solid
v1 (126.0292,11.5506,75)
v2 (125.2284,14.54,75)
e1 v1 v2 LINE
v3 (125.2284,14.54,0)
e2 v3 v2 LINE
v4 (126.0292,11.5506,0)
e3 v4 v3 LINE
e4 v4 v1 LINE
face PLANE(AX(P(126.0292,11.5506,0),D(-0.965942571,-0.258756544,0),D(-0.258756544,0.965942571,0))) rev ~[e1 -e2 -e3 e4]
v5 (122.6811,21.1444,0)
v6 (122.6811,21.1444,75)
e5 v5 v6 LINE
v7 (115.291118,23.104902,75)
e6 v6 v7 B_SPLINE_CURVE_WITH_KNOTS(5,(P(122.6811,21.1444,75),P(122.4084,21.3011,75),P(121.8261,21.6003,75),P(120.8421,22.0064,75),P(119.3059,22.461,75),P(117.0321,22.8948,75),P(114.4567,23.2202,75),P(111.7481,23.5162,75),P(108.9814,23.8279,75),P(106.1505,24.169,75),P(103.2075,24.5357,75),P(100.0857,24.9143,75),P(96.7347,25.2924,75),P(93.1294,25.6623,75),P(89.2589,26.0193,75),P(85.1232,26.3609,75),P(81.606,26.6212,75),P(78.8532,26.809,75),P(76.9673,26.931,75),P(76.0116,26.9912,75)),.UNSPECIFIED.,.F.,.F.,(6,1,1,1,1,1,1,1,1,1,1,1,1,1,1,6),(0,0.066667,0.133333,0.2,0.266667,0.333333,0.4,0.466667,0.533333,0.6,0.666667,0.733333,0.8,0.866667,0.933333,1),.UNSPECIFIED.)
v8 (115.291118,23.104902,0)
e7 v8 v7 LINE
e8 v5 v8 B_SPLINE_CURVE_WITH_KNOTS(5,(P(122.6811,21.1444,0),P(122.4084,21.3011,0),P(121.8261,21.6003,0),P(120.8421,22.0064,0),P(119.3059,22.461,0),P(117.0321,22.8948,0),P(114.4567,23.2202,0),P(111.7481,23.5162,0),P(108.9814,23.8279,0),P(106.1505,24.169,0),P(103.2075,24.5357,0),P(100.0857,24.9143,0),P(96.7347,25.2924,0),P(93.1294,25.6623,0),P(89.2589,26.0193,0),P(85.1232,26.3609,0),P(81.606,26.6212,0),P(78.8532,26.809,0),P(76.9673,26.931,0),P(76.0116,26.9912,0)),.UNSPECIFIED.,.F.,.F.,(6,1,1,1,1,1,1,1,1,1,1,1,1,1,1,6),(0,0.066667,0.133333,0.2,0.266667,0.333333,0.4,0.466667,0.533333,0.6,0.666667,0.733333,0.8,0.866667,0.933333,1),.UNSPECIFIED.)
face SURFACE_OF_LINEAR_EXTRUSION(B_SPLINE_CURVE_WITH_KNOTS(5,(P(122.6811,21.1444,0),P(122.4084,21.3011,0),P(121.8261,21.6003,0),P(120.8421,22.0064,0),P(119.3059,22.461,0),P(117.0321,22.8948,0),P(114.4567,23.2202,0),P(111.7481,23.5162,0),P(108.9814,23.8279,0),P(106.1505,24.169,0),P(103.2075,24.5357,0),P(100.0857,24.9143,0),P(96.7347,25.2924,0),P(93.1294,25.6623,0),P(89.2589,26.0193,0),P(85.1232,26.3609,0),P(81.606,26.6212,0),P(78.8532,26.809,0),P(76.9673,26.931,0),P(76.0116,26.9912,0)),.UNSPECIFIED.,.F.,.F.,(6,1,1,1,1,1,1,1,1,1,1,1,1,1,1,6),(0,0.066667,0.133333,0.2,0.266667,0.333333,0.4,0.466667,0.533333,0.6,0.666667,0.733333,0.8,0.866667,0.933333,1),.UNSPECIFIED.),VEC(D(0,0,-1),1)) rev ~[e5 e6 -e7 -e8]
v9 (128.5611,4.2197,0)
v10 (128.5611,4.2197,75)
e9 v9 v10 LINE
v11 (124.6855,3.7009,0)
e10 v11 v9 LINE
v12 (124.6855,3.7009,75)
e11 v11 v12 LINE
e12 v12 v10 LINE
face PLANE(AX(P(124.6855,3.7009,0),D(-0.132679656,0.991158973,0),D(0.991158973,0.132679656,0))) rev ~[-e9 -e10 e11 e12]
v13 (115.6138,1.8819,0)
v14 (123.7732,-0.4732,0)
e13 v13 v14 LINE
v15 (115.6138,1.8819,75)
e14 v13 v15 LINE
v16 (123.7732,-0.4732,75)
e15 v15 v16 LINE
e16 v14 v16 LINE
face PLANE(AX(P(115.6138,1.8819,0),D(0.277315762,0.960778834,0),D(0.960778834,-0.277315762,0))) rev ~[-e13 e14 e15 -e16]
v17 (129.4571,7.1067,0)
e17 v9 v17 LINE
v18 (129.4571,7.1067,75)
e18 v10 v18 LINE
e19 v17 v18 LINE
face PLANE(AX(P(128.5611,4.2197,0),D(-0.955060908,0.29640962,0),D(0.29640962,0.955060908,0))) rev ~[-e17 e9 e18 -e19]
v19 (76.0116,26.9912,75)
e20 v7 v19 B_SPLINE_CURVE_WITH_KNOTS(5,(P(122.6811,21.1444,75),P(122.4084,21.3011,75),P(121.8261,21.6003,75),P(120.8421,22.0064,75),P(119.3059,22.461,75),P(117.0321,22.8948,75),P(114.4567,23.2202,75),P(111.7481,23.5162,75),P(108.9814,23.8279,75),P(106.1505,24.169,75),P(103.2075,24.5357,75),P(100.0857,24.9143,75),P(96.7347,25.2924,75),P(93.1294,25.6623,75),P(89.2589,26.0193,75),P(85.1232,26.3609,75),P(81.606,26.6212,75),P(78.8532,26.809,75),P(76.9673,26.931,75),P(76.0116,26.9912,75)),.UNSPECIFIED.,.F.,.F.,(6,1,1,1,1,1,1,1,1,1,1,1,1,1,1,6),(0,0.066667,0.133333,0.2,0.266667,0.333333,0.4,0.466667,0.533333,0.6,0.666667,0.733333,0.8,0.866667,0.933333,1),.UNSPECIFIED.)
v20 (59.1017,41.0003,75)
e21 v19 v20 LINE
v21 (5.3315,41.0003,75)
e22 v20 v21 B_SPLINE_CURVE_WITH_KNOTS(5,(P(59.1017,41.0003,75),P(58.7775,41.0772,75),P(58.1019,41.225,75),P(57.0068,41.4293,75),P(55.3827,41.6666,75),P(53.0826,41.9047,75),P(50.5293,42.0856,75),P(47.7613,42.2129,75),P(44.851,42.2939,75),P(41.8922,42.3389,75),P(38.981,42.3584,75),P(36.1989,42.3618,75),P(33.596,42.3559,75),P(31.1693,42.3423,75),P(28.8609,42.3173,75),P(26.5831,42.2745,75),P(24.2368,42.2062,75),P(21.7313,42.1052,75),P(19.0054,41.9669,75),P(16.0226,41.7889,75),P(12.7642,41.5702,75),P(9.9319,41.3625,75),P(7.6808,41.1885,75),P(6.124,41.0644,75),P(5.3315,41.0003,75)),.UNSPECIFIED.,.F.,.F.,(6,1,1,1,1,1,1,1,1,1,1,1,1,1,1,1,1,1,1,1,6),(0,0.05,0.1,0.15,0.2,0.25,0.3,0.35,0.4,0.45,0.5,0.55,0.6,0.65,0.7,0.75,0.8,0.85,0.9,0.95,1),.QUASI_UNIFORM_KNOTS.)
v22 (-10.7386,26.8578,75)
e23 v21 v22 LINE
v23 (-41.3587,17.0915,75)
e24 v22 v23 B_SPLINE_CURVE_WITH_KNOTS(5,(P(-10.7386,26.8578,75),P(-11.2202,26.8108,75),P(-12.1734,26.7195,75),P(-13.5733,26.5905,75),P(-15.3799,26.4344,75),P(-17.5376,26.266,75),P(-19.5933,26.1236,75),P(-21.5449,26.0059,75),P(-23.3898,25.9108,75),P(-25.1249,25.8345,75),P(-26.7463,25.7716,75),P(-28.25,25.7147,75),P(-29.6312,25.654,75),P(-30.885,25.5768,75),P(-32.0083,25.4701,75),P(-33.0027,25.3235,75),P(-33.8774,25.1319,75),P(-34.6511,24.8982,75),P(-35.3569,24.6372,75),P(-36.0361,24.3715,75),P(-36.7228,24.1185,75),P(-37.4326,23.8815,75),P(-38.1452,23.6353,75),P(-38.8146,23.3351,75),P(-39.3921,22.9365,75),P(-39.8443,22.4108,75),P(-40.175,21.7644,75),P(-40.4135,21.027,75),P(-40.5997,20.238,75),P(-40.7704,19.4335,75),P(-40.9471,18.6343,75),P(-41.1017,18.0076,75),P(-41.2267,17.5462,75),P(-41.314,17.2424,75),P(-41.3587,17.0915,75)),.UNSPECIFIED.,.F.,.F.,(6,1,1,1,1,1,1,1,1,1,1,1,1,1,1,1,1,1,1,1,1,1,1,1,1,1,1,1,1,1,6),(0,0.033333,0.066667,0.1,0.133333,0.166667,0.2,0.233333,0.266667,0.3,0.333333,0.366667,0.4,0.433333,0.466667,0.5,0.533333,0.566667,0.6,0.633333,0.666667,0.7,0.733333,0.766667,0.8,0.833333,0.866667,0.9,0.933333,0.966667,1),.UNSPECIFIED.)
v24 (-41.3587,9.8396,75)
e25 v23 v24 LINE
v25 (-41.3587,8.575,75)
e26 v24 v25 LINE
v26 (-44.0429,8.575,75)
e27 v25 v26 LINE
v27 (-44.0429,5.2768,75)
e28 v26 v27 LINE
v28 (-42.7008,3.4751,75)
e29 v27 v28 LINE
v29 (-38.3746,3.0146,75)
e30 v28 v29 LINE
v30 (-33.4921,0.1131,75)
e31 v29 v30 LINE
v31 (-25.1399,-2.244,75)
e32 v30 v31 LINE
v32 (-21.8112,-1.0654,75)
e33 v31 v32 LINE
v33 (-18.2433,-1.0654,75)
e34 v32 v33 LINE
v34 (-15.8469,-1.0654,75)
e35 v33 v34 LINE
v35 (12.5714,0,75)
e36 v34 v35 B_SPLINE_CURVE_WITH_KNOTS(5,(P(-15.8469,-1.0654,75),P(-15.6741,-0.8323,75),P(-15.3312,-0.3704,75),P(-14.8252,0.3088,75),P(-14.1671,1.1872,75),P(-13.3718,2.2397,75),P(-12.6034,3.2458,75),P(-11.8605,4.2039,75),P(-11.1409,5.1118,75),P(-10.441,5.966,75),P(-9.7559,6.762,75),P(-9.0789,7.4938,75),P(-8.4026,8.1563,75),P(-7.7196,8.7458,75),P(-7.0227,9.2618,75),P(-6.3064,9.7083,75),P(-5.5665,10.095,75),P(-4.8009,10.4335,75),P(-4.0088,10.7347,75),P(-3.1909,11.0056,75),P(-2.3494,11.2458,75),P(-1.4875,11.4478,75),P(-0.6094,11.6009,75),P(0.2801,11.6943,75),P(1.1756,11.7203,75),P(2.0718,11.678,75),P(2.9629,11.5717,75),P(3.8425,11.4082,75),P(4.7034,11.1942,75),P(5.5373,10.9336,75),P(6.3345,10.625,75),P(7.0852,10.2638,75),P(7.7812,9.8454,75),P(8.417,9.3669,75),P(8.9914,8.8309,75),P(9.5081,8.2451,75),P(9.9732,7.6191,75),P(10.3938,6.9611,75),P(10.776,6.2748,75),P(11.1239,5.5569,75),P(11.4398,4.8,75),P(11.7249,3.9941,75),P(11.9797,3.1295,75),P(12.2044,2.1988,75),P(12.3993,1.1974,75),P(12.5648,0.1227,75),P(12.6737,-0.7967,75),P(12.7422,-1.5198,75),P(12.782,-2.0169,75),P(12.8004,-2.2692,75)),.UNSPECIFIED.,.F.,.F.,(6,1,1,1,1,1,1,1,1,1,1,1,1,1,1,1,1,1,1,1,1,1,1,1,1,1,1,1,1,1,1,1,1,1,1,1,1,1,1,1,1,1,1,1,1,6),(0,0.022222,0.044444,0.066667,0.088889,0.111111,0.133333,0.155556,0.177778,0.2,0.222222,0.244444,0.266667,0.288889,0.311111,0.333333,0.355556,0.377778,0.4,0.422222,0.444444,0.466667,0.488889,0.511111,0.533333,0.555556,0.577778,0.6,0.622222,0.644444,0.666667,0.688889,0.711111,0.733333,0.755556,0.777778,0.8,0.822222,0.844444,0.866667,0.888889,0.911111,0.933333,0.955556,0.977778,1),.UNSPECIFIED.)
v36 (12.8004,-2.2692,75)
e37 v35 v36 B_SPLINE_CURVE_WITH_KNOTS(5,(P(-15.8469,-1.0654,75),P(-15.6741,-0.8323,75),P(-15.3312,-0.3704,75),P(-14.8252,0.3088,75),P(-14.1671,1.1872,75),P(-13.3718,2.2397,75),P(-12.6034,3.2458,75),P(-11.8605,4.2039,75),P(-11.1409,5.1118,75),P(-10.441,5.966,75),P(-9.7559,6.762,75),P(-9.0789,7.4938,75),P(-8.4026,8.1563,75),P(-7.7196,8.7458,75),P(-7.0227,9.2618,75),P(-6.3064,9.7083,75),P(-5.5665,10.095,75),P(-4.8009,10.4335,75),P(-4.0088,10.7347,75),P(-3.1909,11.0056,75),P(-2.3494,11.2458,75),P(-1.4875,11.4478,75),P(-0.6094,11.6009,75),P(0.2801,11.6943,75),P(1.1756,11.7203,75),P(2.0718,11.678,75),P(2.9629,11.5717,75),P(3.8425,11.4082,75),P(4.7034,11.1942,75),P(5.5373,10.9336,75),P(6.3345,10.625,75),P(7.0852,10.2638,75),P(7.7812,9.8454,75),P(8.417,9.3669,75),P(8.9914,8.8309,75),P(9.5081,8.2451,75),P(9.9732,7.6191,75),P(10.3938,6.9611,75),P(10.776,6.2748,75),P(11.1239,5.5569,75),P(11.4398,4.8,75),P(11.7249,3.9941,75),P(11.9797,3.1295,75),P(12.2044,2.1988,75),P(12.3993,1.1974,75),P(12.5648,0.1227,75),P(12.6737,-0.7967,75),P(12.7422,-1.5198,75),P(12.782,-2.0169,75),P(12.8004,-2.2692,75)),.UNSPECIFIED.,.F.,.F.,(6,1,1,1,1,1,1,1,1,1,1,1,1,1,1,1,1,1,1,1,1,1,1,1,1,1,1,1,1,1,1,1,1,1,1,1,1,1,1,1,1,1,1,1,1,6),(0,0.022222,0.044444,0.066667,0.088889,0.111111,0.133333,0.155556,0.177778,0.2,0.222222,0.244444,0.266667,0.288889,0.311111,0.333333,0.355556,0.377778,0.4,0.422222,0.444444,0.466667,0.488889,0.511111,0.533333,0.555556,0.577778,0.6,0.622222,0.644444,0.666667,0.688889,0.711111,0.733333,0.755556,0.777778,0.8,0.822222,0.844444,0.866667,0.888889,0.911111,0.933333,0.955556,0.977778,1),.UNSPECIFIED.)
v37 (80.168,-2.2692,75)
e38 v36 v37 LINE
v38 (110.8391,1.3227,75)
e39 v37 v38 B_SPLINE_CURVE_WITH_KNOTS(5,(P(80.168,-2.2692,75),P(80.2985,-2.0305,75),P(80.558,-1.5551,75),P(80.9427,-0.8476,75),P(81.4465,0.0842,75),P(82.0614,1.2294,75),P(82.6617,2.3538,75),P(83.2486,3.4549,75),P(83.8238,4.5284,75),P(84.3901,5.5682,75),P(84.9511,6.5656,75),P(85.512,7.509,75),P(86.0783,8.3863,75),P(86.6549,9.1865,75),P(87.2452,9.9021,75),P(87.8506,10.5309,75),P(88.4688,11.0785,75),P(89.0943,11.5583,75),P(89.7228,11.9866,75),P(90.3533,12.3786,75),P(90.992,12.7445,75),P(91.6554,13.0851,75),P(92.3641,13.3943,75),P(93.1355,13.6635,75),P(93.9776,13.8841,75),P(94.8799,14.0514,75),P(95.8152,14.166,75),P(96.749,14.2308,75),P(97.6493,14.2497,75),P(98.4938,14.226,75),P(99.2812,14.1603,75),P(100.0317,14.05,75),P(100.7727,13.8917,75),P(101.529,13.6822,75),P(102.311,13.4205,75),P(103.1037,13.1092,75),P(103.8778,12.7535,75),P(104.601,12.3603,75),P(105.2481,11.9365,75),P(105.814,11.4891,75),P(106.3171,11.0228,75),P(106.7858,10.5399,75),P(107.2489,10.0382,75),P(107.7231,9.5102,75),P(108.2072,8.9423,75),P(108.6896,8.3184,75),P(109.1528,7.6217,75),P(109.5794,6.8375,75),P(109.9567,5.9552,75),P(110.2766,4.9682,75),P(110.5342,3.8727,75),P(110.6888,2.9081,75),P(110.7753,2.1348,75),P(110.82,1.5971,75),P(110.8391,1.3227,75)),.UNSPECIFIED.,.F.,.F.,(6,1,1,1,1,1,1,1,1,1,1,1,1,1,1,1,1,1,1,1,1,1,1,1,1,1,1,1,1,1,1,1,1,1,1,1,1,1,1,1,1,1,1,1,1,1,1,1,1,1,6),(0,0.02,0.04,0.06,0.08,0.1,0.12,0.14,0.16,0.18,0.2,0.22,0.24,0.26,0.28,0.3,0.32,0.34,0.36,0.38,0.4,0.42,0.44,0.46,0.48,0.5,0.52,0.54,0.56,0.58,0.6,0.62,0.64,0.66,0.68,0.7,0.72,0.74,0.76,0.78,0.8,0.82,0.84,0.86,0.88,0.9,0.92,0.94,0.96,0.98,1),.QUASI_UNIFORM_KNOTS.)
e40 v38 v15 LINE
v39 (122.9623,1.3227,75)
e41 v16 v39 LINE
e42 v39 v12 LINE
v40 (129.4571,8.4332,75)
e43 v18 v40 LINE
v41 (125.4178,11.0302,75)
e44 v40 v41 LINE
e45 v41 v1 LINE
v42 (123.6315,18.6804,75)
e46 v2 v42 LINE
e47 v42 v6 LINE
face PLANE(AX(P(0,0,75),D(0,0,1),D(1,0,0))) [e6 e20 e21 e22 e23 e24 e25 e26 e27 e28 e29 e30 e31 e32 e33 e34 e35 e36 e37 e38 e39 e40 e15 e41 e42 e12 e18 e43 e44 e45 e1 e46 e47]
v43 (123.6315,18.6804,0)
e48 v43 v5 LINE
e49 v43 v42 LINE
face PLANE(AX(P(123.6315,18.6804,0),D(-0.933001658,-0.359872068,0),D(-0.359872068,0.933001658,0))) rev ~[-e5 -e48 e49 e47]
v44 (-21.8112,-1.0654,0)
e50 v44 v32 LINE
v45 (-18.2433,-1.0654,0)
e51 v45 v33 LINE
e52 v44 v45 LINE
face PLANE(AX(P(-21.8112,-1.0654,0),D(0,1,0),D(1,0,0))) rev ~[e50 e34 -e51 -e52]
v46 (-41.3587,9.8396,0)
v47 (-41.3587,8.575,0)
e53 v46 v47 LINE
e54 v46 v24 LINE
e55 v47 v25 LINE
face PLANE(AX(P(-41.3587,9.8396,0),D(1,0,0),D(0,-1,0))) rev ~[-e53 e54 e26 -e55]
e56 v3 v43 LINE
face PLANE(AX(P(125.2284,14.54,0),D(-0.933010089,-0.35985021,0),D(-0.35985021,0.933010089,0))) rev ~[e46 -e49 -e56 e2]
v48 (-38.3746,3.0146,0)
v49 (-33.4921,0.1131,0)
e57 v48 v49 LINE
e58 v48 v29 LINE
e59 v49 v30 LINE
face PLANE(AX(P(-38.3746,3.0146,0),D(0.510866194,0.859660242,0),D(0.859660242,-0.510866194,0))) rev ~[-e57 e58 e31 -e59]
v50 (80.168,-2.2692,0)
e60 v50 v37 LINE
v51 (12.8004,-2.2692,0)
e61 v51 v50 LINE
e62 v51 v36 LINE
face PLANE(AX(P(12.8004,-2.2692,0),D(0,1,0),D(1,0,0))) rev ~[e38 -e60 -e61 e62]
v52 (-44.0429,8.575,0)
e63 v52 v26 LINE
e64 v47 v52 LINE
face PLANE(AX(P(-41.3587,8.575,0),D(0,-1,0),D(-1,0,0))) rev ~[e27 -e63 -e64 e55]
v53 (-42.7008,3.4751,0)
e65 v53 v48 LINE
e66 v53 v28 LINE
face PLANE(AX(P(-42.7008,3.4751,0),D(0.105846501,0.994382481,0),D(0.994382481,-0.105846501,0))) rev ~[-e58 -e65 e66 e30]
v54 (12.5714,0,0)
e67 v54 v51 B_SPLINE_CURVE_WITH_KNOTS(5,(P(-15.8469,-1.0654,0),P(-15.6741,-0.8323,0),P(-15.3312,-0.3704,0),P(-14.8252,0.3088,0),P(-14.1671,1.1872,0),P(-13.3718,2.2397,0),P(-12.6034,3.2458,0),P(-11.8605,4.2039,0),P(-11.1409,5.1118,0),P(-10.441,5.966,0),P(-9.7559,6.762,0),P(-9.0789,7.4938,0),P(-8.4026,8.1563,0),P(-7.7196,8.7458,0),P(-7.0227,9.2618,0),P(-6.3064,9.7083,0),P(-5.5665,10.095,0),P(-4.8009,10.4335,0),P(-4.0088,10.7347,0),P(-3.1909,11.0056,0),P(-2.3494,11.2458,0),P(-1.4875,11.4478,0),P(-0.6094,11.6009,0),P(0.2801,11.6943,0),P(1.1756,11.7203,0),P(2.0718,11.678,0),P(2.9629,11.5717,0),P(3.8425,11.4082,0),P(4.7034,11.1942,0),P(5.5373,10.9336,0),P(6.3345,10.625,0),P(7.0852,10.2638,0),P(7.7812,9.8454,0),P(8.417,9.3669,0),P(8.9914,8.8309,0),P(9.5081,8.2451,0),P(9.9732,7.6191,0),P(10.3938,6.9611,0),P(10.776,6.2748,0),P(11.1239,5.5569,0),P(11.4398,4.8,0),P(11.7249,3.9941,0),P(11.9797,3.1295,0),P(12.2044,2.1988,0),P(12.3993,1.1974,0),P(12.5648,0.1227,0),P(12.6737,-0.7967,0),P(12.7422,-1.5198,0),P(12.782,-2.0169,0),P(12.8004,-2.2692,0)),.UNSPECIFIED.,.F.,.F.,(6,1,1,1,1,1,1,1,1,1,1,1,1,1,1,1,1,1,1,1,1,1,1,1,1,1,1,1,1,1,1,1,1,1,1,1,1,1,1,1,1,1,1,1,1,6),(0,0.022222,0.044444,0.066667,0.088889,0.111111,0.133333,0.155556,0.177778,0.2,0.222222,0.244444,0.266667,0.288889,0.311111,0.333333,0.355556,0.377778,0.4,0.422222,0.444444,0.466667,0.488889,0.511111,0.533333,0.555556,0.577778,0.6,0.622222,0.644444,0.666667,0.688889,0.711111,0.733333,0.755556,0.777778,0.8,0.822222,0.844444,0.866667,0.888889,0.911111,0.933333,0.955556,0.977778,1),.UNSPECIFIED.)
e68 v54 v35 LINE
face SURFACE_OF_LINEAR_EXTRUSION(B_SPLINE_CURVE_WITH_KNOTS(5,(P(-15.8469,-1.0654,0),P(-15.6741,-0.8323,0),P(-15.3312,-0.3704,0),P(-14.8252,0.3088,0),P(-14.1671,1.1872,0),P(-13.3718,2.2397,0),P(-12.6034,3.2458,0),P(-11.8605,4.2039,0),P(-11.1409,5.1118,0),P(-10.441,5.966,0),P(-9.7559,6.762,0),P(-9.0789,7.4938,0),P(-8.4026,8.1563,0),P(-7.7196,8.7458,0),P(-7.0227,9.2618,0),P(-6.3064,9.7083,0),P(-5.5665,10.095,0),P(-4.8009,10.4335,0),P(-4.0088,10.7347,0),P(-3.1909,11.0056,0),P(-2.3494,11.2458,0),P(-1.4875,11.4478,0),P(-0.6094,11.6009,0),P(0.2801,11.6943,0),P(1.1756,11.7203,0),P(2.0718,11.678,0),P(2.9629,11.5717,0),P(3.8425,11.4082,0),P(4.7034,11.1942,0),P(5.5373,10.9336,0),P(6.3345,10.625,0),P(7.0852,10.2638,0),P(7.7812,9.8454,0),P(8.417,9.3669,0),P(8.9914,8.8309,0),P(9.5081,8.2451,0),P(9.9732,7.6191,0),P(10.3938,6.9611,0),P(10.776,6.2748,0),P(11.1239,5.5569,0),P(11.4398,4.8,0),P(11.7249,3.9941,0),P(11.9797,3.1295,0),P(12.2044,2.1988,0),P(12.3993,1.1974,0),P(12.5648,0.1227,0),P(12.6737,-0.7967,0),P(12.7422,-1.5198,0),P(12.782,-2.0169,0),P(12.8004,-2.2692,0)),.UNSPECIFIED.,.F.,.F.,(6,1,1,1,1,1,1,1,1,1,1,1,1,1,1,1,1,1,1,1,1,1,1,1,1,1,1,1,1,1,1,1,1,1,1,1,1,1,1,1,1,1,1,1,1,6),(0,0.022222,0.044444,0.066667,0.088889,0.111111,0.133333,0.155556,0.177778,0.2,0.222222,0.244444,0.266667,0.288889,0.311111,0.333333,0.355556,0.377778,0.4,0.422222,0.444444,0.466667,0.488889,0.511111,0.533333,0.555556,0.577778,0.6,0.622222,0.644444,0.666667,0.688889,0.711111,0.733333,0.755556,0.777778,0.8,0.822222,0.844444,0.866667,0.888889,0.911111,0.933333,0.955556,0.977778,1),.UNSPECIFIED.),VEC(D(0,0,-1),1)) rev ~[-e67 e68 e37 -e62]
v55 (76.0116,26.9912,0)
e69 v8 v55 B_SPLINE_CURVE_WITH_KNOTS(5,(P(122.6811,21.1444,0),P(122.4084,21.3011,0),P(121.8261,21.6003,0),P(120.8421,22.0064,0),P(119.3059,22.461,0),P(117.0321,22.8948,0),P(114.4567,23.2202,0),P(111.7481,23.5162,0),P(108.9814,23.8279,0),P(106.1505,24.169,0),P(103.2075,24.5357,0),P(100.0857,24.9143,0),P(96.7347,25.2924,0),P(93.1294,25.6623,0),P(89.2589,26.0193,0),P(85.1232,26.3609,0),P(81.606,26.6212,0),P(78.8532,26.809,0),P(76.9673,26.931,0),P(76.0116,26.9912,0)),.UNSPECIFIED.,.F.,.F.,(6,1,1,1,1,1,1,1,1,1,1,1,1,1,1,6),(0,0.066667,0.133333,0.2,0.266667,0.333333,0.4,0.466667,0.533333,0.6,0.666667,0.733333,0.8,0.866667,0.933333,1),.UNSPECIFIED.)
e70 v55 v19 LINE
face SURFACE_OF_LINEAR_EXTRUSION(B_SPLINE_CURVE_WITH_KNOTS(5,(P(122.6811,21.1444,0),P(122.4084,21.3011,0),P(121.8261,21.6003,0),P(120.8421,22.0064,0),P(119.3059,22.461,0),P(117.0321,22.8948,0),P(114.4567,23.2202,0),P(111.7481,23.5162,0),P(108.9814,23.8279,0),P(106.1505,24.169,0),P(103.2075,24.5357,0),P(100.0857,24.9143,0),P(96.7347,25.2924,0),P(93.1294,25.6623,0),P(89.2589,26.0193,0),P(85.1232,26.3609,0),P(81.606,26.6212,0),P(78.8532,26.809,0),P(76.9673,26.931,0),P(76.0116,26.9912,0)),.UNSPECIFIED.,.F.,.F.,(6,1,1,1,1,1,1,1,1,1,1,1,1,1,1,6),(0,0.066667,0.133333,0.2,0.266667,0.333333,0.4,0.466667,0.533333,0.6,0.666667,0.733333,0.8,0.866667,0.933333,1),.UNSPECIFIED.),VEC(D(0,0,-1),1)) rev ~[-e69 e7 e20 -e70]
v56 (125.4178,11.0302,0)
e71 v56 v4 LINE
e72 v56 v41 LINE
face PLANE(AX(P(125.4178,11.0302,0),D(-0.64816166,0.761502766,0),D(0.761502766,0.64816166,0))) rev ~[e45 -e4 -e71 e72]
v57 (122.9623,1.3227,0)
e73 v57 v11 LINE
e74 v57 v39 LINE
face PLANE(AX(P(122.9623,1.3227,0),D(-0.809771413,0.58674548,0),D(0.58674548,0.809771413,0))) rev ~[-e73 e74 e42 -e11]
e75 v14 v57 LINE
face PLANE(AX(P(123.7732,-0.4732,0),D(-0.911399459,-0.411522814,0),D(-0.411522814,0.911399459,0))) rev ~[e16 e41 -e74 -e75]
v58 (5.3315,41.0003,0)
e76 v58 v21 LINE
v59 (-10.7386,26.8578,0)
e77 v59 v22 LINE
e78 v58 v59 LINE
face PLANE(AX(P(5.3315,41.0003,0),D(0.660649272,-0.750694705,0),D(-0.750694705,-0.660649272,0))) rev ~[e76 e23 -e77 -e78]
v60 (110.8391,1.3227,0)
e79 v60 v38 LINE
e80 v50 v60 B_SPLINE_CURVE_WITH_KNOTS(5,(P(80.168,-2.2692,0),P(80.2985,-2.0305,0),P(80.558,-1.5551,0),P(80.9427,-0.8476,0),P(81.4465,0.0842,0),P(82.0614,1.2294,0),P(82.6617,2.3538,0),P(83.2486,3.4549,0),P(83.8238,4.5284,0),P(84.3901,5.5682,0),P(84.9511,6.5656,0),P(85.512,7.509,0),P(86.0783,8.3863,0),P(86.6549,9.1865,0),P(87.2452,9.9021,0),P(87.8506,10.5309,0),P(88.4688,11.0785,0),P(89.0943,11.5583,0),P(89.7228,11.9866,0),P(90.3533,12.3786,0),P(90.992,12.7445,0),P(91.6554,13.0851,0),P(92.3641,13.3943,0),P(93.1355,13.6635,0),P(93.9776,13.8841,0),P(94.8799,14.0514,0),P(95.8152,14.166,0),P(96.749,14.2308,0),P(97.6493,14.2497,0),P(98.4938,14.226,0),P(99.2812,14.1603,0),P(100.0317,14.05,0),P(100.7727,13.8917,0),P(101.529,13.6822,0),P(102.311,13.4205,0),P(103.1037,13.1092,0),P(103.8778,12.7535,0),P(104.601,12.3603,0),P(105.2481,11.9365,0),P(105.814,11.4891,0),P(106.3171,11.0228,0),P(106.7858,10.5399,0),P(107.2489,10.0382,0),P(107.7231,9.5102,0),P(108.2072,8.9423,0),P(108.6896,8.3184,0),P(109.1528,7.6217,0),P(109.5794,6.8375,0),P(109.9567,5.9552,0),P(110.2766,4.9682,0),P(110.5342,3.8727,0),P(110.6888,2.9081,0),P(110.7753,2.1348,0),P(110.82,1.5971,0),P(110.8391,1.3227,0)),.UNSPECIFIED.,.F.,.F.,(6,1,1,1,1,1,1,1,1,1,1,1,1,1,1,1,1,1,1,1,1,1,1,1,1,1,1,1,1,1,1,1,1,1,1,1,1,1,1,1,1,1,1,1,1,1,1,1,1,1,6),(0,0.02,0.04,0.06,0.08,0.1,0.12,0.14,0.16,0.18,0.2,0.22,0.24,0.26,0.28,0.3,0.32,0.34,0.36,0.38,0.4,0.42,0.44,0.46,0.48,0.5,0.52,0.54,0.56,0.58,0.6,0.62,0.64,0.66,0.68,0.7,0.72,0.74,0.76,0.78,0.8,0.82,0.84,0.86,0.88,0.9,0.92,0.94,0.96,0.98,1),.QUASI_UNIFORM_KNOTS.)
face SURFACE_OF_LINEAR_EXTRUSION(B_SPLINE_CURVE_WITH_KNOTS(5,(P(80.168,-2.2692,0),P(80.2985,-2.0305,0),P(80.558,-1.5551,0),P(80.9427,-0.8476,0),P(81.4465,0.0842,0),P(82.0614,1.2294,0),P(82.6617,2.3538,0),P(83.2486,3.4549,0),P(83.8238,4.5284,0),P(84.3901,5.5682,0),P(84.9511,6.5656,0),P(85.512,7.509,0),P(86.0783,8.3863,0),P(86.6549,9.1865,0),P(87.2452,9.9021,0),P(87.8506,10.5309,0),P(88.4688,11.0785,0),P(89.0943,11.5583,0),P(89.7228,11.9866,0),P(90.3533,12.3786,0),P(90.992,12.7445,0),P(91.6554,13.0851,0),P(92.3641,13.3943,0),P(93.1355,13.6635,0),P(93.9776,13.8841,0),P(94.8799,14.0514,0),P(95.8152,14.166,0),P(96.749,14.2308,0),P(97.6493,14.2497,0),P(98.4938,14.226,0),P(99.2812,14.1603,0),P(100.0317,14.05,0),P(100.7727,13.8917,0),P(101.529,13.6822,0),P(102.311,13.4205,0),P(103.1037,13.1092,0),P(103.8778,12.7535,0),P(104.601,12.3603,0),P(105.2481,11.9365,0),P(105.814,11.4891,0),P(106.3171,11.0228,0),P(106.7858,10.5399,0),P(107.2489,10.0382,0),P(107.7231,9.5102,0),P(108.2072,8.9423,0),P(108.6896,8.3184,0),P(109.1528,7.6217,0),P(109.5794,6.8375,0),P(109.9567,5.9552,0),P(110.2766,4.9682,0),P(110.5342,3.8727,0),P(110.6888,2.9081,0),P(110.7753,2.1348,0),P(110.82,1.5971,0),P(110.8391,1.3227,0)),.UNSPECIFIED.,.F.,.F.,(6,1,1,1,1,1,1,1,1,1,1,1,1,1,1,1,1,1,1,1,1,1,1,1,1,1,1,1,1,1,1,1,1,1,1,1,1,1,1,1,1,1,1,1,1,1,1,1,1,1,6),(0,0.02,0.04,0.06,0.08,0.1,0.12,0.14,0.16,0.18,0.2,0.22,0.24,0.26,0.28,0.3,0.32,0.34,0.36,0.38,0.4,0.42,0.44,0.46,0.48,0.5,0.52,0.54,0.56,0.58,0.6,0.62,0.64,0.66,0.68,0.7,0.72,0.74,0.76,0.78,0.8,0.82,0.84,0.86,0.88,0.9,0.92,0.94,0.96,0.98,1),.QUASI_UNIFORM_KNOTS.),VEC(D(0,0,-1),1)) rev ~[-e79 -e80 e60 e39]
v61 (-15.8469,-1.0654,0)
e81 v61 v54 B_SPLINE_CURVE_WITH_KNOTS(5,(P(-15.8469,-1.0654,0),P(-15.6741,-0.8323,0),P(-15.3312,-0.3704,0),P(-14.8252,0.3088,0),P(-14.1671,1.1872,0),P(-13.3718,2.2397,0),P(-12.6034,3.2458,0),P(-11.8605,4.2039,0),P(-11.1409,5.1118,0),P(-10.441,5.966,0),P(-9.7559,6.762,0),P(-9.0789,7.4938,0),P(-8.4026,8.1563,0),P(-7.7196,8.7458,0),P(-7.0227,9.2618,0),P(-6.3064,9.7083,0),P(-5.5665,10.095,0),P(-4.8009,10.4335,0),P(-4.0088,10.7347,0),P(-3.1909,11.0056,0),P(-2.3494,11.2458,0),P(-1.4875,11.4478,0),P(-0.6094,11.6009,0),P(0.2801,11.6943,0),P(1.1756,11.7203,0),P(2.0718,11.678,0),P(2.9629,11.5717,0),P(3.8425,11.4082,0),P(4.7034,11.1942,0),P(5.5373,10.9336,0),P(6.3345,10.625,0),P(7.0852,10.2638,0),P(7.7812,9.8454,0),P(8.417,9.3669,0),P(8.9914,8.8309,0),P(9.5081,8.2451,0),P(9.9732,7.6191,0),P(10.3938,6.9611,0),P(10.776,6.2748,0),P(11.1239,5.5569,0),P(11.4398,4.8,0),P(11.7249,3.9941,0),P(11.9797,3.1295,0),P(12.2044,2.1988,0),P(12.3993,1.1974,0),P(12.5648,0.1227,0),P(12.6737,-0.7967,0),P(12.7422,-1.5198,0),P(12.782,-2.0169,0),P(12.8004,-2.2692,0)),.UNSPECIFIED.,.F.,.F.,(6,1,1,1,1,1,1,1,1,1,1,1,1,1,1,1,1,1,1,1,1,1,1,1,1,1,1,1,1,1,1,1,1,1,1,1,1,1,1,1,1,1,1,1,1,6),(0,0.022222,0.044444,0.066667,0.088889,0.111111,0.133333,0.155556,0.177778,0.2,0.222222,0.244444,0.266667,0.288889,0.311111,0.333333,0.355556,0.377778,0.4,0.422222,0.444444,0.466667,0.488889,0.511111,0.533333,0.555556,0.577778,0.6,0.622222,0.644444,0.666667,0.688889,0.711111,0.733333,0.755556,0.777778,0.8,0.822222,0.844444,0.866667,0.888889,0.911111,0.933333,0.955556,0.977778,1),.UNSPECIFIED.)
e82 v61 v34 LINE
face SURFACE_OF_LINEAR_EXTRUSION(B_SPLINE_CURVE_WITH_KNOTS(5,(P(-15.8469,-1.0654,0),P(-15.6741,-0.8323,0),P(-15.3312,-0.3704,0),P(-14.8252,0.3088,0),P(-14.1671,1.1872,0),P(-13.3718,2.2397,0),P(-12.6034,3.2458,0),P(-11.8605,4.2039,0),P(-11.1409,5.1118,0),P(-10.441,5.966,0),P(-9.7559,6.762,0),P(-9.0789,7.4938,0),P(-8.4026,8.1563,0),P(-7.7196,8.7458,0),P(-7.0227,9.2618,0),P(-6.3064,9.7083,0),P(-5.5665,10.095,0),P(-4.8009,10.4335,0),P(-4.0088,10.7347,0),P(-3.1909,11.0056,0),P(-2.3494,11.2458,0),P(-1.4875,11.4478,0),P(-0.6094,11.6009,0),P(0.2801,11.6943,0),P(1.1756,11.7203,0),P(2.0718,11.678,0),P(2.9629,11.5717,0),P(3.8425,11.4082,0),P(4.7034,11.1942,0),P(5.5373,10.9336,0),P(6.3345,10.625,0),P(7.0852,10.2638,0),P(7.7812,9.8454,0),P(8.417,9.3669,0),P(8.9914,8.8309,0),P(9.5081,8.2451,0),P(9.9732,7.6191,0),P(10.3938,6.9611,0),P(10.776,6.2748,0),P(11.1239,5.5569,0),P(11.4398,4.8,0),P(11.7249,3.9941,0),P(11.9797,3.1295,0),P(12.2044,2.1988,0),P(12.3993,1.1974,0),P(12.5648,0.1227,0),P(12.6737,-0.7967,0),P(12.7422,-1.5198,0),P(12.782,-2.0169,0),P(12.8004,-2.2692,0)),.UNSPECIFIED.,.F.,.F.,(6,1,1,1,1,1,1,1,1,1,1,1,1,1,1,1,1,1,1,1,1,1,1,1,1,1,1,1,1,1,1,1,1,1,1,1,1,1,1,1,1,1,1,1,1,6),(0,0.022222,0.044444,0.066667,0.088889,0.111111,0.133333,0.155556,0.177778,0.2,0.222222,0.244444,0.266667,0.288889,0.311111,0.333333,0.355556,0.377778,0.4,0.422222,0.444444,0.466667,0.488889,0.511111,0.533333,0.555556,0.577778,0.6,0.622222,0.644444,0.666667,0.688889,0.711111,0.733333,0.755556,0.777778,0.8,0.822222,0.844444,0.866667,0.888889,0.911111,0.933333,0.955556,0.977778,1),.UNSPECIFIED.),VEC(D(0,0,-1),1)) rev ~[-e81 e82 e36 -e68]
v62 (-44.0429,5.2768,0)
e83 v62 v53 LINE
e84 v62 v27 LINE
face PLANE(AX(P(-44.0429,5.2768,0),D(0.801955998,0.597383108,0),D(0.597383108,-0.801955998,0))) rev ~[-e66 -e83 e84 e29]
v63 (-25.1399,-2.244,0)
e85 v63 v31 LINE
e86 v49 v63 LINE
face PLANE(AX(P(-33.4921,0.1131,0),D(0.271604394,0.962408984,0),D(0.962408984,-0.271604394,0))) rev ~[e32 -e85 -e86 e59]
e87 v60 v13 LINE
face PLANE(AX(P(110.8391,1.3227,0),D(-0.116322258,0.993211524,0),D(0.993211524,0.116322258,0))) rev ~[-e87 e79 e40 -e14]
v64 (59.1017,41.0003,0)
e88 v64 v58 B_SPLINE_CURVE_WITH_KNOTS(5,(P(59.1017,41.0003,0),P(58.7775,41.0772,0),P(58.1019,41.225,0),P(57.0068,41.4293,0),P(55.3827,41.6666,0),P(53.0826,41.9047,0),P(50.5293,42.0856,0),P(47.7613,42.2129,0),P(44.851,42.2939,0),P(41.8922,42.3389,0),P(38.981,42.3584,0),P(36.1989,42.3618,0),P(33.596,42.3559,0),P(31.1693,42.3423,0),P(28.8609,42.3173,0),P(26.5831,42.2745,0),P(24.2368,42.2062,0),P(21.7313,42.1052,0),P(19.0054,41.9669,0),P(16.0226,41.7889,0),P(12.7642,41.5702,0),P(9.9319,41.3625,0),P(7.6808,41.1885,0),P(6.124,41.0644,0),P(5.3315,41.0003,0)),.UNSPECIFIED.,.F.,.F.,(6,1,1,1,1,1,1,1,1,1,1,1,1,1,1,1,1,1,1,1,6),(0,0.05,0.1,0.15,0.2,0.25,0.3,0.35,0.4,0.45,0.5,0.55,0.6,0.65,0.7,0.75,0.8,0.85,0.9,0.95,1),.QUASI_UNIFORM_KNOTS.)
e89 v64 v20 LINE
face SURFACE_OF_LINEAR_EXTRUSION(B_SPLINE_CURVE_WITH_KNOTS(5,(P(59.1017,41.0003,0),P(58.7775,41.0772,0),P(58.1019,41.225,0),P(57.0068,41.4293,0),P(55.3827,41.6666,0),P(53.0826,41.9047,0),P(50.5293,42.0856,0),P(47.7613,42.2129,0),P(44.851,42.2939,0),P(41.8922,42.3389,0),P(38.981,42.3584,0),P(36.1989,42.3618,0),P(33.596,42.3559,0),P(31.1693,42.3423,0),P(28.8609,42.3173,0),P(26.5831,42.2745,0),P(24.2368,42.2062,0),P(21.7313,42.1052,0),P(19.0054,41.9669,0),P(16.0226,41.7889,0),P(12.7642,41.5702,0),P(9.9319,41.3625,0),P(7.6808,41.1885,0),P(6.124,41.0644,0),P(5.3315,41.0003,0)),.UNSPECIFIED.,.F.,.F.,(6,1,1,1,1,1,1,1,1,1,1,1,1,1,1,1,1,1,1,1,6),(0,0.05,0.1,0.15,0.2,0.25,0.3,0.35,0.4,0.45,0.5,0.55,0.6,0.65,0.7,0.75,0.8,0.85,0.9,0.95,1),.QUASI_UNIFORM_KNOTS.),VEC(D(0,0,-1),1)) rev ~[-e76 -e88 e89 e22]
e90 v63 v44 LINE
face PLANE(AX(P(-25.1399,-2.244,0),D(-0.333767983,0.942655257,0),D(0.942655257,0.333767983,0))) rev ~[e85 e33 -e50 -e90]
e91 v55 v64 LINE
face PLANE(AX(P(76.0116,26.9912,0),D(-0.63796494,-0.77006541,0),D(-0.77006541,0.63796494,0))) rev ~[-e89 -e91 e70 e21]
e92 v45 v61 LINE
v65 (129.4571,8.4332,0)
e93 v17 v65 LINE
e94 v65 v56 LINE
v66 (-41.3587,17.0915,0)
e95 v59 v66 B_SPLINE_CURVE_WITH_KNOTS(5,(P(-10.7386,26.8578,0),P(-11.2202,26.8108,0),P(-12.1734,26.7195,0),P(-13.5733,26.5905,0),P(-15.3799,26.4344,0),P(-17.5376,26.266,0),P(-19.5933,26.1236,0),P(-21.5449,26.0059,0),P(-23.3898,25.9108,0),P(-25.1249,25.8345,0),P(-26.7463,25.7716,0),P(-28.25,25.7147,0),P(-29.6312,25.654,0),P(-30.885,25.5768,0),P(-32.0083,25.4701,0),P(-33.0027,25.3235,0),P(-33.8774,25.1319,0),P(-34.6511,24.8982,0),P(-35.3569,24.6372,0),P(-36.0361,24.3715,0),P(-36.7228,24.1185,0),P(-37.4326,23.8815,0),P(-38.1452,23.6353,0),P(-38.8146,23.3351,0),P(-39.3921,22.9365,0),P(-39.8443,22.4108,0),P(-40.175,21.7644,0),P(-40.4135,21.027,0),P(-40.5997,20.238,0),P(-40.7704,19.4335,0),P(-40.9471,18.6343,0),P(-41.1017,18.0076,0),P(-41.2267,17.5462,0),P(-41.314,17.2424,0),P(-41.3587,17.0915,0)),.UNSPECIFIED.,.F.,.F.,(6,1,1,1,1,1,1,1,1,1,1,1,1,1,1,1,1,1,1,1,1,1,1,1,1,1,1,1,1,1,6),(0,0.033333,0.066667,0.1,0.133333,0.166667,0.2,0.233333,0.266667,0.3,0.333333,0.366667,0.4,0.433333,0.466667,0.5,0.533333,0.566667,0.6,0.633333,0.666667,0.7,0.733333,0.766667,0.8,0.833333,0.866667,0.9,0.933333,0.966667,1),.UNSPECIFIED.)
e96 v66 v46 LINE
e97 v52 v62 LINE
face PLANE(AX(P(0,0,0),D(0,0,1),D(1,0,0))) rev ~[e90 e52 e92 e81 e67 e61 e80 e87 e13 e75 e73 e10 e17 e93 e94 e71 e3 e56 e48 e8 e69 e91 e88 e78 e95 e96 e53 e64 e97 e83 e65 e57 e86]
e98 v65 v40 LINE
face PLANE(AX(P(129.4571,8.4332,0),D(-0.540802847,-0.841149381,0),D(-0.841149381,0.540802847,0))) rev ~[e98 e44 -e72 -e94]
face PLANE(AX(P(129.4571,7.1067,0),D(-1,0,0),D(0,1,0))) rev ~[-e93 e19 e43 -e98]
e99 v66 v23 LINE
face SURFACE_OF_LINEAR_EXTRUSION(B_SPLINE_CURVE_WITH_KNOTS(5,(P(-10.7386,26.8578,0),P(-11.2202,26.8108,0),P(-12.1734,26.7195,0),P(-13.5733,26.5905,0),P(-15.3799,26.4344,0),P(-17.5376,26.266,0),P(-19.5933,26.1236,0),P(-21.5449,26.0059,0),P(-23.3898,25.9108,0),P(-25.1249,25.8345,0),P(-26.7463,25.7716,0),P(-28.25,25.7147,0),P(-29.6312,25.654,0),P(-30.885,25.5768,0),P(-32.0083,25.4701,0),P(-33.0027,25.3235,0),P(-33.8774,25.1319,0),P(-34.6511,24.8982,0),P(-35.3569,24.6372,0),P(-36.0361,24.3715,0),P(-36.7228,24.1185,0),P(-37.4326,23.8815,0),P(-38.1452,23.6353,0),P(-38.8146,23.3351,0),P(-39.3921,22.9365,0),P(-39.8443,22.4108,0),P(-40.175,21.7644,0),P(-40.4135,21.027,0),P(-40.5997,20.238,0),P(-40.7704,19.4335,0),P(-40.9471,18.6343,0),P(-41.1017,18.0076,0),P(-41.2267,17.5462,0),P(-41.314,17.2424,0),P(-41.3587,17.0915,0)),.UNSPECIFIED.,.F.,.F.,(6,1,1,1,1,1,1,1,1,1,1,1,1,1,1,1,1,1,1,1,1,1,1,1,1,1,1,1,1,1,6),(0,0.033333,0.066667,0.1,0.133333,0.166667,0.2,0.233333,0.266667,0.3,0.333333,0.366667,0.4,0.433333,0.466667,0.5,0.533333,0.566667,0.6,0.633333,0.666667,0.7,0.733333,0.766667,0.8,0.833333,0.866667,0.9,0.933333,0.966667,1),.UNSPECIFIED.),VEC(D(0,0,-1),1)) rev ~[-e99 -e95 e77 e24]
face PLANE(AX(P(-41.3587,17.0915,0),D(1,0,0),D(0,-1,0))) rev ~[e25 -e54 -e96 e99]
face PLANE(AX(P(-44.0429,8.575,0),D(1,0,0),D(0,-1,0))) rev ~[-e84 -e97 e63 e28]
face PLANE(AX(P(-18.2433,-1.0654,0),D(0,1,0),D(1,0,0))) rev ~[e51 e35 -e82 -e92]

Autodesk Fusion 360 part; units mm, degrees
sketch "Sketch1" plane through (0, 0, 0) normal (0, 0, 1) x (1, 0, 0) in component "Chassi"
  line L0 (12.8004, -2.2692) -> (80.168, -2.2692)
  line L1 (0, 0) -> (12.8004, -2.2692)
  line L2 (0, 0) -> (80.168, 0)
  line L3 (80.168, -2.2692) -> (110.8391, 1.3227)
  spline S0 degree 5 poles (80.168, -2.2692) (80.2985, -2.0305) (80.558, -1.5551) (80.9427, -0.8476) (81.4465, 0.0842) (82.0614, 1.2294) (82.6617, 2.3538) (83.2486, 3.4549) (83.8238, 4.5284) (84.3901, 5.5682) (84.9511, 6.5656) (85.512, 7.509) (86.0783, 8.3863) (86.6549, 9.1865) (87.2452, 9.9021) (87.8506, 10.5309) (88.4688, 11.0785) (89.0943, 11.5583) (89.7228, 11.9866) (90.3533, 12.3786) (90.992, 12.7445) (91.6554, 13.0851) (92.3641, 13.3943) (93.1355, 13.6635) (93.9776, 13.8841) (94.8799, 14.0514) (95.8152, 14.166) (96.749, 14.2308) (97.6493, 14.2497) (98.4938, 14.226) (99.2812, 14.1603) (100.0317, 14.05) (100.7727, 13.8917) (101.529, 13.6822) (102.311, 13.4205) (103.1037, 13.1092) (103.8778, 12.7535) (104.601, 12.3603) (105.2481, 11.9365) (105.814, 11.4891) (106.3171, 11.0228) (106.7858, 10.5399) (107.2489, 10.0382) (107.7231, 9.5102) (108.2072, 8.9423) (108.6896, 8.3184) (109.1528, 7.6217) (109.5794, 6.8375) (109.9567, 5.9552) (110.2766, 4.9682) (110.5342, 3.8727) (110.6888, 2.9081) (110.7753, 2.1348) (110.82, 1.5971) (110.8391, 1.3227) knots 0 0 0 0 0 0 0.02 0.04 0.06 0.08 0.1 0.12 0.14 0.16 0.18 0.2 0.22 0.24 0.26 0.28 0.3 0.32 0.34 0.36 0.38 0.4 0.42 0.44 0.46 0.48 0.5 0.52 0.54 0.56 0.58 0.6 0.62 0.64 0.66 0.68 0.7 0.72 0.74 0.76 0.78 0.8 0.82 0.84 0.86 0.88 0.9 0.92 0.94 0.96 0.98 1 1 1 1 1 1
  line L4 (110.8391, 1.3227) -> (115.6138, 1.8819)
  line L5 (115.6138, 1.8819) -> (123.7732, -0.4732)
  line L6 (123.7732, -0.4732) -> (122.9623, 1.3227)
  line L7 (122.9623, 1.3227) -> (124.6855, 3.7009)
  line L8 (124.6855, 3.7009) -> (128.5611, 4.2197)
  line L9 (128.5611, 4.2197) -> (129.4571, 7.1067)
  line L10 (129.4571, 7.1067) -> (129.4571, 8.4332)
  line L11 (129.4571, 8.4332) -> (125.4178, 11.0302)
  line L12 (125.4178, 11.0302) -> (126.0292, 11.5506)
  line L13 (126.0292, 11.5506) -> (125.2284, 14.54)
  line L14 (125.2284, 14.54) -> (123.6315, 18.6804)
  line L15 (123.6315, 18.6804) -> (122.6811, 21.1444)
  spline S1 degree 5 poles (122.6811, 21.1444) (122.4084, 21.3011) (121.8261, 21.6003) (120.8421, 22.0064) (119.3059, 22.461) (117.0321, 22.8948) (114.4567, 23.2202) (111.7481, 23.5162) (108.9814, 23.8279) (106.1505, 24.169) (103.2075, 24.5357) (100.0857, 24.9143) (96.7347, 25.2924) (93.1294, 25.6623) (89.2589, 26.0193) (85.1232, 26.3609) (81.606, 26.6212) (78.8532, 26.809) (76.9673, 26.931) (76.0116, 26.9912) knots 0 0 0 0 0 0 0.066667 0.133333 0.2 0.266667 0.333333 0.4 0.466667 0.533333 0.6 0.666667 0.733333 0.8 0.866667 0.933333 1 1 1 1 1 1
  line L16 (76.0116, 26.9912) -> (59.1017, 41.0003)
  line L17 (120.2247, 22.4704) -> (110.3584, 23.7393)
  spline S2 degree 5 poles (59.1017, 41.0003) (58.7775, 41.0772) (58.1019, 41.225) (57.0068, 41.4293) (55.3827, 41.6666) (53.0826, 41.9047) (50.5293, 42.0856) (47.7613, 42.2129) (44.851, 42.2939) (41.8922, 42.3389) (38.981, 42.3584) (36.1989, 42.3618) (33.596, 42.3559) (31.1693, 42.3423) (28.8609, 42.3173) (26.5831, 42.2745) (24.2368, 42.2062) (21.7313, 42.1052) (19.0054, 41.9669) (16.0226, 41.7889) (12.7642, 41.5702) (9.9319, 41.3625) (7.6808, 41.1885) (6.124, 41.0644) (5.3315, 41.0003) knots 0 0 0 0 0 0 0.05 0.1 0.15 0.2 0.25 0.3 0.35 0.4 0.45 0.5 0.55 0.6 0.65 0.7 0.75 0.8 0.85 0.9 0.95 1 1 1 1 1 1
  line L18 (5.3315, 41.0003) -> (-10.7386, 26.8578)
  spline S3 degree 5 poles (-10.7386, 26.8578) (-11.2202, 26.8108) (-12.1734, 26.7195) (-13.5733, 26.5905) (-15.3799, 26.4344) (-17.5376, 26.266) (-19.5933, 26.1236) (-21.5449, 26.0059) (-23.3898, 25.9108) (-25.1249, 25.8345) (-26.7463, 25.7716) (-28.25, 25.7147) (-29.6312, 25.654) (-30.885, 25.5768) (-32.0083, 25.4701) (-33.0027, 25.3235) (-33.8774, 25.1319) (-34.6511, 24.8982) (-35.3569, 24.6372) (-36.0361, 24.3715) (-36.7228, 24.1185) (-37.4326, 23.8815) (-38.1452, 23.6353) (-38.8146, 23.3351) (-39.3921, 22.9365) (-39.8443, 22.4108) (-40.175, 21.7644) (-40.4135, 21.027) (-40.5997, 20.238) (-40.7704, 19.4335) (-40.9471, 18.6343) (-41.1017, 18.0076) (-41.2267, 17.5462) (-41.314, 17.2424) (-41.3587, 17.0915) knots 0 0 0 0 0 0 0.033333 0.066667 0.1 0.133333 0.166667 0.2 0.233333 0.266667 0.3 0.333333 0.366667 0.4 0.433333 0.466667 0.5 0.533333 0.566667 0.6 0.633333 0.666667 0.7 0.733333 0.766667 0.8 0.833333 0.866667 0.9 0.933333 0.966667 1 1 1 1 1 1
  line L19 (-41.3587, 17.0915) -> (-41.3587, 9.8396)
  line L20 (-41.3587, 9.8396) -> (-41.3587, 8.575)
  line L21 (-41.3587, 8.575) -> (-44.0429, 8.575)
  line L22 (-44.0429, 8.575) -> (-44.0429, 5.2768)
  line L23 (-44.0429, 5.2768) -> (-42.7008, 3.4751)
  line L24 (-42.7008, 3.4751) -> (-38.3746, 3.0146)
  line L25 (-38.3746, 3.0146) -> (-33.4921, 0.1131)
  line L26 (-33.4921, 0.1131) -> (-25.1399, -2.244)
  line L27 (-25.1399, -2.244) -> (-21.8112, -1.0654)
  line L28 (-21.8112, -1.0654) -> (-18.2433, -1.0654)
  line L29 (-18.2433, -1.0654) -> (-15.8469, -1.0654)
  spline S4 degree 5 poles (-15.8469, -1.0654) (-15.6741, -0.8323) (-15.3312, -0.3704) (-14.8252, 0.3088) (-14.1671, 1.1872) (-13.3718, 2.2397) (-12.6034, 3.2458) (-11.8605, 4.2039) (-11.1409, 5.1118) (-10.441, 5.966) (-9.7559, 6.762) (-9.0789, 7.4938) (-8.4026, 8.1563) (-7.7196, 8.7458) (-7.0227, 9.2618) (-6.3064, 9.7083) (-5.5665, 10.095) (-4.8009, 10.4335) (-4.0088, 10.7347) (-3.1909, 11.0056) (-2.3494, 11.2458) (-1.4875, 11.4478) (-0.6094, 11.6009) (0.2801, 11.6943) (1.1756, 11.7203) (2.0718, 11.678) (2.9629, 11.5717) (3.8425, 11.4082) (4.7034, 11.1942) (5.5373, 10.9336) (6.3345, 10.625) (7.0852, 10.2638) (7.7812, 9.8454) (8.417, 9.3669) (8.9914, 8.8309) (9.5081, 8.2451) (9.9732, 7.6191) (10.3938, 6.9611) (10.776, 6.2748) (11.1239, 5.5569) (11.4398, 4.8) (11.7249, 3.9941) (11.9797, 3.1295) (12.2044, 2.1988) (12.3993, 1.1974) (12.5648, 0.1227) (12.6737, -0.7967) (12.7422, -1.5198) (12.782, -2.0169) (12.8004, -2.2692) knots 0 0 0 0 0 0 0.022222 0.044444 0.066667 0.088889 0.111111 0.133333 0.155556 0.177778 0.2 0.222222 0.244444 0.266667 0.288889 0.311111 0.333333 0.355556 0.377778 0.4 0.422222 0.444444 0.466667 0.488889 0.511111 0.533333 0.555556 0.577778 0.6 0.622222 0.644444 0.666667 0.688889 0.711111 0.733333 0.755556 0.777778 0.8 0.822222 0.844444 0.866667 0.888889 0.911111 0.933333 0.955556 0.977778 1 1 1 1 1 1
  point P0 (84.3652, 5.515)
  point P1 (87.6184, 10.277)
  point P2 (90.4002, 12.3987)
  point P3 (93.5591, 13.766)
  point P4 (98.1103, 14.2312)
  point P5 (101.5272, 13.6717)
  point P6 (105.0001, 12.0885)
  point P7 (107.092, 10.2058)
  point P8 (109.1491, 7.5909)
  point P9 (115.2916, 23.1048)
  point P10 (101.6899, 24.7174)
  point P11 (49.8661, 42.106)
  point P12 (34.7789, 42.3575)
  point P13 (23.9663, 42.1899)
  point P14 (-28.3345, 25.709)
  point P15 (-34.2101, 25.0235)
  point P16 (-36.952, 24.0442)
  point P17 (-39.4002, 22.8691)
  point P18 (-40.5753, 20.323)
  point P19 (-10.6489, 5.7067)
  point P20 (-7.1109, 9.1803)
  point P21 (-3.6373, 10.8528)
  point P22 (0.4796, 11.6891)
  point P23 (4.7251, 11.1745)
  point P24 (8.1344, 9.5663)
  point P25 (10.3215, 7.0576)
  point P26 (11.8011, 3.7126)
  dimension "d1" = 13
  dimension "d2" = 10.052
  dimension "d5" = 67.3676
  dimension "d7" = 30.8807
  dimension "d8" = 173.321
extrude "Extrude1" add sketch "Sketch1" along normal blind 75 contours L0 S0 L4 L5 L6 L7 L8 L9 L10 L11 L12 L13 L14 L15 S1 L16 S2 L18 S3 L19 L20 L21 L22 L23 L24 L25 L26 L27 L28 L29 S4 in component "Chassi"
component "Chassi" placed x (1, 0, 0) y (0, 1, 0) z (0, 0, 1) at (0, 0, 0)
